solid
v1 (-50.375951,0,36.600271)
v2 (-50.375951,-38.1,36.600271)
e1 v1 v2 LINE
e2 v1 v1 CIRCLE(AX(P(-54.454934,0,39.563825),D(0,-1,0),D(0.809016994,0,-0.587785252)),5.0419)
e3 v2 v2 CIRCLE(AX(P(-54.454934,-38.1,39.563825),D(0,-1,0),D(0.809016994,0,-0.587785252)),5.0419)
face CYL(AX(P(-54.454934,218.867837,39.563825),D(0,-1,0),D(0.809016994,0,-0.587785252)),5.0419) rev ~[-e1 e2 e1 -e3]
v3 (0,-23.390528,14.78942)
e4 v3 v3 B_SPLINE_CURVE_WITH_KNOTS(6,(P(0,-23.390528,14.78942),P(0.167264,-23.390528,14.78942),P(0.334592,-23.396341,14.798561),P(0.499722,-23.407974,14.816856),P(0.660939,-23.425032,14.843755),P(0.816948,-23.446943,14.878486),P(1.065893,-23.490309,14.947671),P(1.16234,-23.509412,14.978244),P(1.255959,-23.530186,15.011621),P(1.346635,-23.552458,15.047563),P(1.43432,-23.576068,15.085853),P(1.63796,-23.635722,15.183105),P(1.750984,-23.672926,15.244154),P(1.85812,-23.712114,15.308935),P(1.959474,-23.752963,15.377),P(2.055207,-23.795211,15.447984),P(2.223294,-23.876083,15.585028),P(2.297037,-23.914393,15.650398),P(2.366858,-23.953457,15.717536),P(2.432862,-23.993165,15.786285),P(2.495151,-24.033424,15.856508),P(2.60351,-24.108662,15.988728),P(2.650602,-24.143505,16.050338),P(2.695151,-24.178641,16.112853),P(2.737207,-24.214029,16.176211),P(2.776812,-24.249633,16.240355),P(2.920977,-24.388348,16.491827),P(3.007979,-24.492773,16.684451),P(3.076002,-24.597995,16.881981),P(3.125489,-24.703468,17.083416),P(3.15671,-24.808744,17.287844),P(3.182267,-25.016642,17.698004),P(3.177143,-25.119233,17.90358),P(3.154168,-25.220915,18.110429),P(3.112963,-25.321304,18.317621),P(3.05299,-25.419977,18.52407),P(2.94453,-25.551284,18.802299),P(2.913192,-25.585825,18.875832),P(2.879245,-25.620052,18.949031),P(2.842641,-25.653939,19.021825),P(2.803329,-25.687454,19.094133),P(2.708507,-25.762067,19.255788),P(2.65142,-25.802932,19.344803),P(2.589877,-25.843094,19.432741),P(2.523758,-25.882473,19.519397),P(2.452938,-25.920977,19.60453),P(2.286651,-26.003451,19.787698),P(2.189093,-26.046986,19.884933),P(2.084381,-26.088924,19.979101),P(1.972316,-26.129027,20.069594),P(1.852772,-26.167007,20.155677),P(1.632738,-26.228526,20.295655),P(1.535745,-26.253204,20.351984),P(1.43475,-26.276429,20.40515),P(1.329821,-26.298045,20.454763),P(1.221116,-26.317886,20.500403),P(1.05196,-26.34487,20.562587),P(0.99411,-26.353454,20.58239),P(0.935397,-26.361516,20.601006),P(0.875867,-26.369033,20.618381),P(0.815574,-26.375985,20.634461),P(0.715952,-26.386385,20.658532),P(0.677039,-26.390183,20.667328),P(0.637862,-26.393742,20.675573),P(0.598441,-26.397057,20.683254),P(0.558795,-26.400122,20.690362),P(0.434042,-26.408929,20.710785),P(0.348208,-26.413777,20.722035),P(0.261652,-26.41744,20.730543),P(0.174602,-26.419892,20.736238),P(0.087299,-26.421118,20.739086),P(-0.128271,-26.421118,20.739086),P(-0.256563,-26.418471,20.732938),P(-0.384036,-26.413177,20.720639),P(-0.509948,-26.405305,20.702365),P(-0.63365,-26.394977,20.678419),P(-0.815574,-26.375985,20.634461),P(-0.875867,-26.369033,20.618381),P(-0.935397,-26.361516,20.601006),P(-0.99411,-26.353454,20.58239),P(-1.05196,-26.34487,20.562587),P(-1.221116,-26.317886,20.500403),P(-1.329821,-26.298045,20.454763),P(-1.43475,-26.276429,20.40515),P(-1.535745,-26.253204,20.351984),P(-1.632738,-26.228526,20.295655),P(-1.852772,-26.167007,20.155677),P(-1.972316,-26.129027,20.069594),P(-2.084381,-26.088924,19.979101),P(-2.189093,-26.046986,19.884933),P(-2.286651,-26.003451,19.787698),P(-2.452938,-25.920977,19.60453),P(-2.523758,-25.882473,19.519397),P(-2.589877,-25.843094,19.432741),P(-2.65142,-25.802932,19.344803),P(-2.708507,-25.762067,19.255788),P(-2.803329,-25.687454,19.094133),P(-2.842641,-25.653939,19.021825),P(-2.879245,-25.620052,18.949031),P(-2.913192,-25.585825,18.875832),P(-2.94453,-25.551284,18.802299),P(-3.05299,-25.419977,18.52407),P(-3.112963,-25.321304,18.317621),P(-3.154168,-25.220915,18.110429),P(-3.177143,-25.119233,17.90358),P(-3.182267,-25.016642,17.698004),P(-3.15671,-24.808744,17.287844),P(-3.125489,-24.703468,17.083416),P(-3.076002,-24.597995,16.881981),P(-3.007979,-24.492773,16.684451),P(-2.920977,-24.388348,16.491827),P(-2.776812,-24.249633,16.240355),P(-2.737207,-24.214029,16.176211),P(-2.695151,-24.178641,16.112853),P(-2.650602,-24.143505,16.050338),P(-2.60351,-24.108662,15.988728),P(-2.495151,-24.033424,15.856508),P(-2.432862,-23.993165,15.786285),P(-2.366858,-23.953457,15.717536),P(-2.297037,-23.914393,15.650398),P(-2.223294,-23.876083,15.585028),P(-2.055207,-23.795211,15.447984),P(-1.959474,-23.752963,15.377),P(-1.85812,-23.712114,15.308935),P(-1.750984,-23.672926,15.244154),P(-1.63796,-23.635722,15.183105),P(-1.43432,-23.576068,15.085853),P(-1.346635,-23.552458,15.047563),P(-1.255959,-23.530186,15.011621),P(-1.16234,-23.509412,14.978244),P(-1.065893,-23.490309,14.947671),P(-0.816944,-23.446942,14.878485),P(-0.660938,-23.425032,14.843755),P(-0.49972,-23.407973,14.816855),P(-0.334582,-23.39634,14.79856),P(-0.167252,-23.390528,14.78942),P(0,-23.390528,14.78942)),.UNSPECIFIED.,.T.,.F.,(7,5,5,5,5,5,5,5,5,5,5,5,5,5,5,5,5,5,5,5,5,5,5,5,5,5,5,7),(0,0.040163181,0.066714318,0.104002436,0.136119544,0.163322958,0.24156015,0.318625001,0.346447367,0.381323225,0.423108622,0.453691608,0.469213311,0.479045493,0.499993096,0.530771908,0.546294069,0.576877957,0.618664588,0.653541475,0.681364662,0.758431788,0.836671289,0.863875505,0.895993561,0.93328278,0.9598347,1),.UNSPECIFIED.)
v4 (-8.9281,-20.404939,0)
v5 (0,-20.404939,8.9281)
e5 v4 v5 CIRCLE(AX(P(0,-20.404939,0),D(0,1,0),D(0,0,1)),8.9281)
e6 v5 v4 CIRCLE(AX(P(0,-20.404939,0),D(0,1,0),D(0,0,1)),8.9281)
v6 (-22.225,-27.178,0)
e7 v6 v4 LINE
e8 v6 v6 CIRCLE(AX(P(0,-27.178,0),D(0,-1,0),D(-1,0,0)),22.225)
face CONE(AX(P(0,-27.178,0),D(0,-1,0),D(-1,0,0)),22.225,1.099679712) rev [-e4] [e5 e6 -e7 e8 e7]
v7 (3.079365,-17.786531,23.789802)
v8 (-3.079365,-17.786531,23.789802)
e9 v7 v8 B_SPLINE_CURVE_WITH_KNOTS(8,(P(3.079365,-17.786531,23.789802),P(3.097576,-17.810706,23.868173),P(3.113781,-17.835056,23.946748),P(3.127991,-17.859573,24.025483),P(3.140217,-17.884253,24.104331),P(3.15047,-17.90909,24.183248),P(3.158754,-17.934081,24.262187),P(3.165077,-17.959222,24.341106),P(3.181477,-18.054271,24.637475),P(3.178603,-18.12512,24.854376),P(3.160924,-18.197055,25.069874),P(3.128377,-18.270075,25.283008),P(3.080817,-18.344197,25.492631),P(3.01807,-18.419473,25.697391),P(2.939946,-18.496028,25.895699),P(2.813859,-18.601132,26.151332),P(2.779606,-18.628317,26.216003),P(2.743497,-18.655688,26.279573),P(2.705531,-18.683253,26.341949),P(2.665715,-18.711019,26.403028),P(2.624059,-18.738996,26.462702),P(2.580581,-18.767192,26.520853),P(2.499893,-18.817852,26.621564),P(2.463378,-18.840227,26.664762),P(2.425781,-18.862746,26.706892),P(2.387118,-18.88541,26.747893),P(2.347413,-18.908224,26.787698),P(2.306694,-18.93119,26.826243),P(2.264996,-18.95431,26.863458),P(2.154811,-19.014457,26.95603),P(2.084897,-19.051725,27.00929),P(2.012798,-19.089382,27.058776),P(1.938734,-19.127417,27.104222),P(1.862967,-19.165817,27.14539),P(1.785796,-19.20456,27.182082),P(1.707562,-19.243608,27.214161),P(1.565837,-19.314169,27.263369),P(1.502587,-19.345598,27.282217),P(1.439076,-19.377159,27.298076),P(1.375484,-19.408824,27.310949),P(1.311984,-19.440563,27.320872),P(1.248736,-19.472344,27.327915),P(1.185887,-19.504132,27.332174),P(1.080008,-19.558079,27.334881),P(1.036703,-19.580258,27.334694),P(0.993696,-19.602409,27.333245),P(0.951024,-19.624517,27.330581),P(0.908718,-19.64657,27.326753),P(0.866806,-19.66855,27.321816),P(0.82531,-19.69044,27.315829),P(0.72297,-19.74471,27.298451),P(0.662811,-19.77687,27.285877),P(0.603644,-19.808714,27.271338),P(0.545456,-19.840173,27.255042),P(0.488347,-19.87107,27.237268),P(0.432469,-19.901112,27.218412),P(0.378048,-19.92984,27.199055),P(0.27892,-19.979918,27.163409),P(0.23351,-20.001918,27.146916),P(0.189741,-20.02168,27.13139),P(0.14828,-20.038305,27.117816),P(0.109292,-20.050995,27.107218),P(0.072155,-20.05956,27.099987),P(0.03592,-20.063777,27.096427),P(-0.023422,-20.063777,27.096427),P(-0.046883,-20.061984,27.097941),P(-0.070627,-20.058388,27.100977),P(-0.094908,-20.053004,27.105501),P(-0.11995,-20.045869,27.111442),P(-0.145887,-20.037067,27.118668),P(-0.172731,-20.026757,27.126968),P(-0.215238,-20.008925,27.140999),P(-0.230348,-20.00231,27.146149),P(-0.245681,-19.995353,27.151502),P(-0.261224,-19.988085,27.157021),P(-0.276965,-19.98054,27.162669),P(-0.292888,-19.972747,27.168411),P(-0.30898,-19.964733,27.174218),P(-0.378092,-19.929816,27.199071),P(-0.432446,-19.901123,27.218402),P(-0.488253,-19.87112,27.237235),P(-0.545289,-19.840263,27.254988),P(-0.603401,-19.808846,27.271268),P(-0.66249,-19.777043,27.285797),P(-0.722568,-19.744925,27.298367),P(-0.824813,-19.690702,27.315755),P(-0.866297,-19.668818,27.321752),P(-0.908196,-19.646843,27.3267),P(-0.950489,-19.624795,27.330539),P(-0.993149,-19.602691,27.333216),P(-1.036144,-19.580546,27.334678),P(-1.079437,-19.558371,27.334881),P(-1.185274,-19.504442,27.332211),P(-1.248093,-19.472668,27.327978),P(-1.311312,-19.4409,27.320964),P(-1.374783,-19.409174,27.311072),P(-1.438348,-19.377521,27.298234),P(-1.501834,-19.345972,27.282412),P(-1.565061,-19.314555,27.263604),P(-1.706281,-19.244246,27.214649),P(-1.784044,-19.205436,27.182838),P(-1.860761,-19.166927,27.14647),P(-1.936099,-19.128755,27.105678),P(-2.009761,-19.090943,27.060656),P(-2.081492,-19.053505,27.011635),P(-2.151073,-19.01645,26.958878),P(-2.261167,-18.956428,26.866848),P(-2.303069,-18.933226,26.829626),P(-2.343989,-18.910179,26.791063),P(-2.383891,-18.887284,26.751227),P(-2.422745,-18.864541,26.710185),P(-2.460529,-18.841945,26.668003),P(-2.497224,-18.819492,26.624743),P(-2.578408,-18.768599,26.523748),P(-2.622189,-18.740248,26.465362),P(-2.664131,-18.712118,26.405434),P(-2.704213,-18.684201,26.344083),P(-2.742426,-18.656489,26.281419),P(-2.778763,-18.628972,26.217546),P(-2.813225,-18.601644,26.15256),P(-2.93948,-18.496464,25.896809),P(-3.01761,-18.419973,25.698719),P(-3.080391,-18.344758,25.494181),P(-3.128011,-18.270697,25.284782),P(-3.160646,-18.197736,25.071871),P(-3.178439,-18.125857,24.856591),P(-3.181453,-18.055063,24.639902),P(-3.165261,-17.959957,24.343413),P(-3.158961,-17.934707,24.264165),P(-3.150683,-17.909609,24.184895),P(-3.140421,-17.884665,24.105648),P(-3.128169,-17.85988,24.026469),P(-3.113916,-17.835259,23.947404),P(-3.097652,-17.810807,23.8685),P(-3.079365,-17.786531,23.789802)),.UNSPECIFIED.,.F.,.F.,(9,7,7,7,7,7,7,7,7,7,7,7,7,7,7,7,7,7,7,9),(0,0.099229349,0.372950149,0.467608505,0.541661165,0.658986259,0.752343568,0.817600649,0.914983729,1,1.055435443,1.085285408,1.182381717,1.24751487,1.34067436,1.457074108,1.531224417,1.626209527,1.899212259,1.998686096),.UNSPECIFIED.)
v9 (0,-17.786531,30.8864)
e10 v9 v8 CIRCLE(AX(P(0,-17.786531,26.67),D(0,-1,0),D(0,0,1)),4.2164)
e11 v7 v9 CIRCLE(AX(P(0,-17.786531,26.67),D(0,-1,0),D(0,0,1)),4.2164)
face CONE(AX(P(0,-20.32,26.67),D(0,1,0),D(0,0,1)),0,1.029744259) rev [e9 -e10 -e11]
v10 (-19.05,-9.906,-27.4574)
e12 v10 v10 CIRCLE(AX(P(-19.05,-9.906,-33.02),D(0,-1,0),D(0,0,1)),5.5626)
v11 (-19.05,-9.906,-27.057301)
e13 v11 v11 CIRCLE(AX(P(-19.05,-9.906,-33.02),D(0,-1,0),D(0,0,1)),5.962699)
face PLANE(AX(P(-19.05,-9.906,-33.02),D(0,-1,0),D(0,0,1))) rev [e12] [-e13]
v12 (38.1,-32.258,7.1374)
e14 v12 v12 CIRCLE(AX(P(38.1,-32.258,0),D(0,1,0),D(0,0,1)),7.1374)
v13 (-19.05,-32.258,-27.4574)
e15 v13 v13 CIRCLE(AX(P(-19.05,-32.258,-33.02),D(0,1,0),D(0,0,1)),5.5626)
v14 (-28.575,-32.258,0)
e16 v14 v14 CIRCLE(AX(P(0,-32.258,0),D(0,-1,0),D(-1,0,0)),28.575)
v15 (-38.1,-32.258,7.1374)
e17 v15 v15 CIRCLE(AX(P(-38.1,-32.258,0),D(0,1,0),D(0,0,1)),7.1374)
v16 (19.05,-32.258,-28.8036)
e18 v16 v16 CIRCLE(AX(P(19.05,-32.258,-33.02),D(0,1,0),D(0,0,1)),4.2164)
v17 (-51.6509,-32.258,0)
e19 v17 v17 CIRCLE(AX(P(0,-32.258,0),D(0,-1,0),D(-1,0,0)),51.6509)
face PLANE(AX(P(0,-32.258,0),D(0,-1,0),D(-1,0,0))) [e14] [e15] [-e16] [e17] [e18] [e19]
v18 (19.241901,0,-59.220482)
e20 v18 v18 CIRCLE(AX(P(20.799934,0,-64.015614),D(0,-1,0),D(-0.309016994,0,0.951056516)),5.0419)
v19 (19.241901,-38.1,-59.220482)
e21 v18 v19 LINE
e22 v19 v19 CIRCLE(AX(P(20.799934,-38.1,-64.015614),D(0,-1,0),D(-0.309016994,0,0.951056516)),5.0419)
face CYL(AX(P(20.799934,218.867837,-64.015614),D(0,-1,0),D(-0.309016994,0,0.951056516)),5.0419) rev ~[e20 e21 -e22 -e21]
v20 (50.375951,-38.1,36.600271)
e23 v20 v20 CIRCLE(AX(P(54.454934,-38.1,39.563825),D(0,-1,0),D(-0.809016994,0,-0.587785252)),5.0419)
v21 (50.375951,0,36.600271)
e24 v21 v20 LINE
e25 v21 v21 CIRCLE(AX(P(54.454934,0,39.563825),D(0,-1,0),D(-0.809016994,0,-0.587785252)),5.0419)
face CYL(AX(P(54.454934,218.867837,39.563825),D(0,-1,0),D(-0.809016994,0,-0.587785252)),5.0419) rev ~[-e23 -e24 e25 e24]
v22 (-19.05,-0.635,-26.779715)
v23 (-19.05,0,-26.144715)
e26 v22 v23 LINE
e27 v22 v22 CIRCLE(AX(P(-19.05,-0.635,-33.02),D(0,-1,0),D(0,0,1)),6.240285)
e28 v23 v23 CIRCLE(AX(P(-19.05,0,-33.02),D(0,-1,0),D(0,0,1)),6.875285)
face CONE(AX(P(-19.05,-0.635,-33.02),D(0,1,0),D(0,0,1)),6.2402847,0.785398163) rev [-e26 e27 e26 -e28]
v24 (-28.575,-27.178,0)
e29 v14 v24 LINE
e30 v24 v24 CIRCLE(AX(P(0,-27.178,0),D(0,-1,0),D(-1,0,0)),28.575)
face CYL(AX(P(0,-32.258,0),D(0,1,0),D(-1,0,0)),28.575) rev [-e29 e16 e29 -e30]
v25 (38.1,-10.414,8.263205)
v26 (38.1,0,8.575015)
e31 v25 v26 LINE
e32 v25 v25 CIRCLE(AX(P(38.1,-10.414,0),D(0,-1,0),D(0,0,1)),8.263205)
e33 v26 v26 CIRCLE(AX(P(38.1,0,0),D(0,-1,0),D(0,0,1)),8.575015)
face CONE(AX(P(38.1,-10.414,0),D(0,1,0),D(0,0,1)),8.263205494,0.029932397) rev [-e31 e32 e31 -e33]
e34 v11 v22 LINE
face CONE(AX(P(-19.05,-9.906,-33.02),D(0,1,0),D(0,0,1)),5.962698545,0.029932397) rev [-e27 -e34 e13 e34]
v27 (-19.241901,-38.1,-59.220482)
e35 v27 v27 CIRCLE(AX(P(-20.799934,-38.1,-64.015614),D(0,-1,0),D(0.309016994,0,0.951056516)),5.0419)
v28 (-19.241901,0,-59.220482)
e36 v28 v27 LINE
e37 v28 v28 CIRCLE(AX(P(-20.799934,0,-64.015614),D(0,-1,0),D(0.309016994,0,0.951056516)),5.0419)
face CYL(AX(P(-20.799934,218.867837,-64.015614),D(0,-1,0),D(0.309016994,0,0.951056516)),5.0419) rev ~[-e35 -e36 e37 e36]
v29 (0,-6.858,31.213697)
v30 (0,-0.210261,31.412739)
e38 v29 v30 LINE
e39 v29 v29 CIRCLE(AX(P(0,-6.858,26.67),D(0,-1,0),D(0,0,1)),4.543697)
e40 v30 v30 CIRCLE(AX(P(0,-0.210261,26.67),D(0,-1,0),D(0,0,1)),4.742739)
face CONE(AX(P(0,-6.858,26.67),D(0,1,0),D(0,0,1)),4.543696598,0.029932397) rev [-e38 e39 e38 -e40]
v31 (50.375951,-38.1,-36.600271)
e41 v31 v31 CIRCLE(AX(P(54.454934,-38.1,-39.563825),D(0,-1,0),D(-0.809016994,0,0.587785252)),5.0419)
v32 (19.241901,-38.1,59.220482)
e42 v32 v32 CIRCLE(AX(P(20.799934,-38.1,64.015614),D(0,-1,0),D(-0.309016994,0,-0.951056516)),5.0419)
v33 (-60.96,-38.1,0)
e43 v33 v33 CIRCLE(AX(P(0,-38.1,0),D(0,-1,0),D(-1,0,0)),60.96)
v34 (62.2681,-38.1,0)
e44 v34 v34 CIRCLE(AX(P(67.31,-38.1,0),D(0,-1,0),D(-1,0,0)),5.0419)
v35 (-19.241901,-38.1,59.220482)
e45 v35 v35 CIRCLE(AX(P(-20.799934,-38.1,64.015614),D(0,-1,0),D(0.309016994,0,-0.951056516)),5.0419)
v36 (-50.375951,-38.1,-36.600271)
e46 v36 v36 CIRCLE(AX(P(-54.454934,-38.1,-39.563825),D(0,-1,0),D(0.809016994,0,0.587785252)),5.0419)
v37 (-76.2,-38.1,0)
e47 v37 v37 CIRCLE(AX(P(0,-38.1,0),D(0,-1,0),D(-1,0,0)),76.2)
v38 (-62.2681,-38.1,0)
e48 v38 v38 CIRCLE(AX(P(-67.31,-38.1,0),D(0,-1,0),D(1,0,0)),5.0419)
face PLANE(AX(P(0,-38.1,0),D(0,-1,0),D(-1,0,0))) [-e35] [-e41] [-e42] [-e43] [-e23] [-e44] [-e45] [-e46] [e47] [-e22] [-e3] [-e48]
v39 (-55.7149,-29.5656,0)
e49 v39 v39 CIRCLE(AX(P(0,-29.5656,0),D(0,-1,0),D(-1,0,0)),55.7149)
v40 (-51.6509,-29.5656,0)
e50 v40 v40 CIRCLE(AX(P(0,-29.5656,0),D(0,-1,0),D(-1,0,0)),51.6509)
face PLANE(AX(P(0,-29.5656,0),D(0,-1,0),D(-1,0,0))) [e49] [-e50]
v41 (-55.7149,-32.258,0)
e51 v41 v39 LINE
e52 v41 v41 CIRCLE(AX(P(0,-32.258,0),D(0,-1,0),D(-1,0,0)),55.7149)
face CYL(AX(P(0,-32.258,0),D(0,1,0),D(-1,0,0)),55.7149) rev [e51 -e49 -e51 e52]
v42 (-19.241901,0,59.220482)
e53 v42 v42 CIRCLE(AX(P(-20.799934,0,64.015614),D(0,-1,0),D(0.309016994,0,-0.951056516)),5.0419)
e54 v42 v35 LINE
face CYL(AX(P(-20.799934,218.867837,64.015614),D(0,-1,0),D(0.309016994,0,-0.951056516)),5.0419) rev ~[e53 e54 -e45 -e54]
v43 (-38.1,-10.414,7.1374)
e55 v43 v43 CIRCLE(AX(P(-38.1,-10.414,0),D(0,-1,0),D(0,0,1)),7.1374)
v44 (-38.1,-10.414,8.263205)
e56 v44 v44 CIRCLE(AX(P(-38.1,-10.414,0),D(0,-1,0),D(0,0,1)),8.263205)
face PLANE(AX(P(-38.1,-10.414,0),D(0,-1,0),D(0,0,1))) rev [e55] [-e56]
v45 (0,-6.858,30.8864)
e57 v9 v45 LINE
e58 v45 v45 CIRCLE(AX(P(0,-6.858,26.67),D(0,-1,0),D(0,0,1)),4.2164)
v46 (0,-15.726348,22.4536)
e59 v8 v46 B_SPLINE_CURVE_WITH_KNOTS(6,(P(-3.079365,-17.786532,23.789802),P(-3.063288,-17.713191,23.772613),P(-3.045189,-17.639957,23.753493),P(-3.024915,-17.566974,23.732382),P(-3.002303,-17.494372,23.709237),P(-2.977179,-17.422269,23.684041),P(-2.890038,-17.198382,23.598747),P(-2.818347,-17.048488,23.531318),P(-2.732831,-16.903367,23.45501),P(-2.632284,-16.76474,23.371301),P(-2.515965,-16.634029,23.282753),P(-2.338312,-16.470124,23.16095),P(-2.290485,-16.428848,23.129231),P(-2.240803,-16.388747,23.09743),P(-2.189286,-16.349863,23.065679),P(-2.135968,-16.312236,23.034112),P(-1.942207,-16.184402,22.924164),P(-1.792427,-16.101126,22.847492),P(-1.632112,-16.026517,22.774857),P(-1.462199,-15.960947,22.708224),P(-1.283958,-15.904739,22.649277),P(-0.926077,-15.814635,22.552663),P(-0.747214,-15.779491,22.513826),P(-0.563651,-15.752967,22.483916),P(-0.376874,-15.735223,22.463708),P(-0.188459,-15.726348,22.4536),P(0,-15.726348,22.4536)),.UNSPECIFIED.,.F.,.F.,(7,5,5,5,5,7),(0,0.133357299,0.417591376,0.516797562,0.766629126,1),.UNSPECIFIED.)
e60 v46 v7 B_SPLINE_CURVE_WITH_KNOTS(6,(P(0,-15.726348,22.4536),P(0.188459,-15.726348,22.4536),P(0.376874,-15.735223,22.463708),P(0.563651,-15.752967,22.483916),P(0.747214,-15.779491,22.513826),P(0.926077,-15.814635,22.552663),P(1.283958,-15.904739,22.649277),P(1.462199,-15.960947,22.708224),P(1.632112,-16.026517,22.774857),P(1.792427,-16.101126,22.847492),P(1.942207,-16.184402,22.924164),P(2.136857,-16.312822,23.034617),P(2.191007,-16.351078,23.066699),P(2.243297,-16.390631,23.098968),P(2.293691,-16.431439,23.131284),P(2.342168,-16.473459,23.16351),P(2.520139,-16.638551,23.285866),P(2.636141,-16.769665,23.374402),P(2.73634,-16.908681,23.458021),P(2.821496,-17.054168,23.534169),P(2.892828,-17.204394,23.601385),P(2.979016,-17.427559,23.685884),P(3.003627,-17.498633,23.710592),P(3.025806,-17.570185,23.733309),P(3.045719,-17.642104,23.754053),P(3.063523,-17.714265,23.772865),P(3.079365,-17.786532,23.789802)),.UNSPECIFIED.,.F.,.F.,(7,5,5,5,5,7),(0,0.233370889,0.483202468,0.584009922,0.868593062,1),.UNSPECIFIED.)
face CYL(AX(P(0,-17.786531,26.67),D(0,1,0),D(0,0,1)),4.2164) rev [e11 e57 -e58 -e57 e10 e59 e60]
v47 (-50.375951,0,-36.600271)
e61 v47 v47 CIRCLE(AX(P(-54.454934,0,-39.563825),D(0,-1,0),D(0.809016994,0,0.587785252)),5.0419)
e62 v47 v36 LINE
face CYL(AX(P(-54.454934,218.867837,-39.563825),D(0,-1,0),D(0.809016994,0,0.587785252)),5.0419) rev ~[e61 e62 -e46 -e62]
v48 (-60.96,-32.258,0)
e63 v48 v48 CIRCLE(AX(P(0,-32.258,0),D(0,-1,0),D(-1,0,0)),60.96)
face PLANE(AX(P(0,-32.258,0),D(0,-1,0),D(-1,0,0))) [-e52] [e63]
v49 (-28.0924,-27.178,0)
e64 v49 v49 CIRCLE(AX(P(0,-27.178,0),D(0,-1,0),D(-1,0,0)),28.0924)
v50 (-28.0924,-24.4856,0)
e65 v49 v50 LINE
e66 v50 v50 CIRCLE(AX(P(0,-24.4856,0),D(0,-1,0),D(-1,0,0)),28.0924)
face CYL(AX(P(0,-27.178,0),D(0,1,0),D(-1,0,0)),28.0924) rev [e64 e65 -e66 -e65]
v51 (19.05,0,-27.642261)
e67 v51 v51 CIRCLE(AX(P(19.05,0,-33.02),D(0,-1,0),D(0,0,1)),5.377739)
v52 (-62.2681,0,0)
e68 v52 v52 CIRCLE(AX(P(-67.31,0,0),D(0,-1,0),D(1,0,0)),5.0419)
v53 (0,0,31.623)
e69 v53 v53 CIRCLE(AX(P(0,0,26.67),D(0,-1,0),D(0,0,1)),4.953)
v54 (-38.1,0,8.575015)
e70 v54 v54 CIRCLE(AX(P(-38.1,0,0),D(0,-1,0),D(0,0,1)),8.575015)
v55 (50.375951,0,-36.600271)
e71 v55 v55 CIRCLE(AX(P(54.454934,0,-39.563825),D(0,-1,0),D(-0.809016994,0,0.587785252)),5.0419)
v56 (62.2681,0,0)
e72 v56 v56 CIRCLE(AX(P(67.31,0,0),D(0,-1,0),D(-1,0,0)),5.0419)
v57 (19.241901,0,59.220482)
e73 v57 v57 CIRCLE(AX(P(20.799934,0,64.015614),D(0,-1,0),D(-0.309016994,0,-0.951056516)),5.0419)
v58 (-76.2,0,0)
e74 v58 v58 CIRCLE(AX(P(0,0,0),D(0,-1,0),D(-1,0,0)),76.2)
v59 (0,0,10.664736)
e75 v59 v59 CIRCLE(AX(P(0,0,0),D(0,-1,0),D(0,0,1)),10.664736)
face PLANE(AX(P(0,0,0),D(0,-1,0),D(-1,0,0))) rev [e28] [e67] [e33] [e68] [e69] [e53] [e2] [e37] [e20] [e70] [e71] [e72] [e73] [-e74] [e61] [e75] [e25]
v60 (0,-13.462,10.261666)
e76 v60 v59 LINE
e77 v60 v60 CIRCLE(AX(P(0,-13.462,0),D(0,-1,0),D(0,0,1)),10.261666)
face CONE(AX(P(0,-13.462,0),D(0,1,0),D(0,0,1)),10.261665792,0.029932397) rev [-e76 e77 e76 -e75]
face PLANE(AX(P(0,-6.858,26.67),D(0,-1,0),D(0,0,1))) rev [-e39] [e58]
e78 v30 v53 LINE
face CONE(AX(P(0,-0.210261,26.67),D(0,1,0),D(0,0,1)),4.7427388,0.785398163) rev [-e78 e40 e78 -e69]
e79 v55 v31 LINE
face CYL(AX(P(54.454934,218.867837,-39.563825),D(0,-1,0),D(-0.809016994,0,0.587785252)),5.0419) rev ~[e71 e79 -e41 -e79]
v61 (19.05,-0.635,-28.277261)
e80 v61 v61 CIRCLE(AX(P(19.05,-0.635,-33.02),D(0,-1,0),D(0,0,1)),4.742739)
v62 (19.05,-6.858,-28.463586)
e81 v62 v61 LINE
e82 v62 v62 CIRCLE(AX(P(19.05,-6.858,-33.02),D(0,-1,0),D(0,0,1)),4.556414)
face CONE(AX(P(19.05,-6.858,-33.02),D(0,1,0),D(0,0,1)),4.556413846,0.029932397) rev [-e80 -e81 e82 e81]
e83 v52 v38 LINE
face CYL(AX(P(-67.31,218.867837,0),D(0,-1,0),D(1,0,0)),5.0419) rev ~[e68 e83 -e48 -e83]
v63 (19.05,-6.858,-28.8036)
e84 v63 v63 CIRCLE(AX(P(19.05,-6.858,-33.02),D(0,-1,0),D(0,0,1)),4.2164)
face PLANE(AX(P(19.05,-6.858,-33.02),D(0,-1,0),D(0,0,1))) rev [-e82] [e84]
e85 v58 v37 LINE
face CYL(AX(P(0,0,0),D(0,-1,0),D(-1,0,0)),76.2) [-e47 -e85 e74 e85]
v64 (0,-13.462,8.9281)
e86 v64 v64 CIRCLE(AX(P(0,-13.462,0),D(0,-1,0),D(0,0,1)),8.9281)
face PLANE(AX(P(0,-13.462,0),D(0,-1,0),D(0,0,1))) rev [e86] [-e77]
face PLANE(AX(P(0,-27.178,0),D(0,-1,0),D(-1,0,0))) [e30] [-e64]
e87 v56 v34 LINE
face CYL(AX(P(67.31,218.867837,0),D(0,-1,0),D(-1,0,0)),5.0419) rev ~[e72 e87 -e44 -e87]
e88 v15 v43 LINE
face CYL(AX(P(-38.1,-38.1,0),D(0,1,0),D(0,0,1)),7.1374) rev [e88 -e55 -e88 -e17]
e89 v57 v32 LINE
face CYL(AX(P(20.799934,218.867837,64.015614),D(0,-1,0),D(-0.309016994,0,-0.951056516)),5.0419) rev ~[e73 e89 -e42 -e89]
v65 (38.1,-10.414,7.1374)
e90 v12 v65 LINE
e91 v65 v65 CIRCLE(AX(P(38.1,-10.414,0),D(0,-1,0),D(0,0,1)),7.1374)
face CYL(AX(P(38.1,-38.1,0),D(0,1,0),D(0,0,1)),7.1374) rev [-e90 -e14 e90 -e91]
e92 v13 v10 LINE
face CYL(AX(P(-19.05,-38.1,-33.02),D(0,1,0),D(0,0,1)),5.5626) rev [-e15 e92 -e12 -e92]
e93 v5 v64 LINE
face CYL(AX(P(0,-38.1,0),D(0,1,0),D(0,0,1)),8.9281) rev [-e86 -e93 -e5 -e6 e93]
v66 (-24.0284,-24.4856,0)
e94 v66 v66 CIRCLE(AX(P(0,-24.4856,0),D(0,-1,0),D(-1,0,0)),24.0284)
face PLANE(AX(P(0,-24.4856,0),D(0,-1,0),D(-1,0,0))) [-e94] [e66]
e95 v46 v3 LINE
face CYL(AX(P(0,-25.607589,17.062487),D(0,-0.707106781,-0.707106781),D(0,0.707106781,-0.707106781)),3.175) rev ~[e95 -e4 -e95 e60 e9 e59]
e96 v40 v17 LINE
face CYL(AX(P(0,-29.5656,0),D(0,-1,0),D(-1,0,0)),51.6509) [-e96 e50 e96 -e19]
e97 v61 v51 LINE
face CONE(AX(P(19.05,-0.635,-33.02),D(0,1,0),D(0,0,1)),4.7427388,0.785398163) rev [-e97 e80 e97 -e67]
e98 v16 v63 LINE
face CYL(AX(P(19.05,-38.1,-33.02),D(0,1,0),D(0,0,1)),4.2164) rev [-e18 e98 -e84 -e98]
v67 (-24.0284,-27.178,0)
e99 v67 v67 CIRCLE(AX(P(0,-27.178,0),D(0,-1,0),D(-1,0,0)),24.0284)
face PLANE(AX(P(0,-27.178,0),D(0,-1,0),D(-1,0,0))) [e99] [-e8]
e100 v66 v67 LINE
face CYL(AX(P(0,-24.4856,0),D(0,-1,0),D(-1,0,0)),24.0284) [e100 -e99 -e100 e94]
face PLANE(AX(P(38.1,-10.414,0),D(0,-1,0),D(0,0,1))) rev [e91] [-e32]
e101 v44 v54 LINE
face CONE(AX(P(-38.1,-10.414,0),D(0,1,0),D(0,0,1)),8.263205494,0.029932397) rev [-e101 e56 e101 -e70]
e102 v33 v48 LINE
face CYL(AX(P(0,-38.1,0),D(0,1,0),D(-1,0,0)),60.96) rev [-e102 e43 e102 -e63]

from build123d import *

# Parameters (mm, degrees)
F_3_8_NPT_TAPPED_HOLE1_AT_2_COUNT = 2
F_3_8_NPT_TAPPED_HOLE1_AT_2_PITCH = 76.2
F_3_8_CLEARANCE_HOLE2_D           = 10.0838
CIRPATTERN1_COUNT                 = 10
SKETCH15_R                        = 3.175
CUT_EXTRUDE1_DEPTH                = 12.7


with BuildPart() as part:
    # Sketch1 → Revolve1 (revolve)
    with BuildSketch(Plane.XY):
        Polygon((0, 0), (-76.2, 0), (-76.2, -38.1), (-60.96, -38.1), (-60.96, -32.258), (-55.7149, -32.258), (-55.7149, -29.5656), (-51.6509, -29.5656), (-51.6509, -32.258), (-32.163982831, -32.258), (-30.364664072, -32.258), (-28.575, -32.258), (-28.575, -27.178), (-28.0924, -27.178), (-28.0924, -24.4856), (-24.0284, -24.4856), (-24.0284, -27.178), (-22.225, -27.178), (0, -15.85722), align=None)
    revolve(axis=Axis((0, 0, 0), (0, -1, 0)))

    # Sketch3 → 1/2 NPT Tapped Hole1 (revolve, cut)
    with BuildSketch(Plane(origin=(0, 0, 0), x_dir=(0, 0, 1), z_dir=(1, 0, 0))):
        Polygon((0, 0), (0, 38.1), (8.9281, 38.1), (8.9281, 13.462), (10.261665792, 13.462), (10.6647361, 0), align=None)
    revolve(axis=Axis((0, 6.35, 0), (0, -1, 0)), mode=Mode.SUBTRACT)

    # Sketch5 → 3/8 NPT Tapped Hole1 (revolve, cut)
    with BuildSketch(Plane(origin=(-38.1, 0, 0), x_dir=(0, 0, 1), z_dir=(1, 0, 0))):
        Polygon((0, 0), (0, 38.1), (7.1374, 38.1), (7.1374, 10.414), (8.263205494, 10.414), (8.5750146, 0), align=None)
    f_3_8_npt_tapped_hole1 = revolve(axis=Axis((-38.1, 6.35, 0), (0, -1, 0)), mode=Mode.SUBTRACT)

    # 3/8 NPT Tapped Hole1 at 2: 3/8 NPT Tapped Hole1 ×2
    with Locations(*[(i * F_3_8_NPT_TAPPED_HOLE1_AT_2_PITCH, 0, 0) for i in range(1, F_3_8_NPT_TAPPED_HOLE1_AT_2_COUNT)]):
        add(f_3_8_npt_tapped_hole1, mode=Mode.SUBTRACT)

    # 3/8 Clearance Hole2 (through all)
    with Locations(Plane(origin=(67.31, 0, 0), x_dir=(1, 0, 0), z_dir=(0, 1, 0))):
        with Locations((0, 0)):
            f_3_8_clearance_hole2 = Hole(F_3_8_CLEARANCE_HOLE2_D / 2)

    # CirPattern1: 3/8 Clearance Hole2 ×10 about axis
    cirpattern1_axis = Axis((0, 0, 0), (0, 1, 0))
    for i in range(1, CIRPATTERN1_COUNT):
        add(f_3_8_clearance_hole2.rotate(cirpattern1_axis, i * 360 / CIRPATTERN1_COUNT), mode=Mode.SUBTRACT)

    # Sketch7 → 1/8 NPT Tapped Hole2 (revolve, cut)
    with BuildSketch(Plane(origin=(19.05, 0, -33.02), x_dir=(0, 0, 1), z_dir=(1, 0, 0))):
        Polygon((0, 0), (0, 38.1), (4.2164, 38.1), (4.2164, 6.858), (4.556413846, 6.858), (4.7427388, 0.635), (5.3777388, 0), align=None)
    revolve(axis=Axis((19.05, 6.35, -33.02), (0, -1, 0)), mode=Mode.SUBTRACT)

    # Sketch15 → Cut-Extrude1 (cut, symmetric)
    with BuildSketch(Plane(origin=(0, -4.272551224, -4.272551224), x_dir=(0, 0.7071067811865489, -0.7071067811865461), z_dir=(0, -0.7071067811865461, -0.7071067811865489))):
        with Locations((-30.172299887, 0)):
            Circle(SKETCH15_R)
    extrude(amount=CUT_EXTRUDE1_DEPTH, both=True, mode=Mode.SUBTRACT)

    # Sketch12 → 1/8 NPT Tapped Hole3 (revolve, cut)
    with BuildSketch(Plane(origin=(0, 0, 26.67), x_dir=(0, 0, 1), z_dir=(1, 0, 0))):
        Polygon((0, 0), (0, 20.32), (4.2164, 17.786531286), (4.2164, 6.858), (4.543696598, 6.858), (4.7427388, 0.2102612), (4.953, 0), align=None)
    revolve(axis=Axis((0, 6.35, 26.67), (0, -1, 0)), mode=Mode.SUBTRACT)

    # Sketch17 → 1/4 NPT Tapped Hole1 (revolve, cut)
    with BuildSketch(Plane(origin=(-19.05, 0, -33.02), x_dir=(0, 0, 1), z_dir=(1, 0, 0))):
        Polygon((0, 0), (0, 38.1), (5.5626, 38.1), (5.5626, 9.906), (5.962698545, 9.906), (6.2402847, 0.635), (6.8752847, 0), align=None)
    revolve(axis=Axis((-19.05, 6.35, -33.02), (0, -1, 0)), mode=Mode.SUBTRACT)


solid = part.part
